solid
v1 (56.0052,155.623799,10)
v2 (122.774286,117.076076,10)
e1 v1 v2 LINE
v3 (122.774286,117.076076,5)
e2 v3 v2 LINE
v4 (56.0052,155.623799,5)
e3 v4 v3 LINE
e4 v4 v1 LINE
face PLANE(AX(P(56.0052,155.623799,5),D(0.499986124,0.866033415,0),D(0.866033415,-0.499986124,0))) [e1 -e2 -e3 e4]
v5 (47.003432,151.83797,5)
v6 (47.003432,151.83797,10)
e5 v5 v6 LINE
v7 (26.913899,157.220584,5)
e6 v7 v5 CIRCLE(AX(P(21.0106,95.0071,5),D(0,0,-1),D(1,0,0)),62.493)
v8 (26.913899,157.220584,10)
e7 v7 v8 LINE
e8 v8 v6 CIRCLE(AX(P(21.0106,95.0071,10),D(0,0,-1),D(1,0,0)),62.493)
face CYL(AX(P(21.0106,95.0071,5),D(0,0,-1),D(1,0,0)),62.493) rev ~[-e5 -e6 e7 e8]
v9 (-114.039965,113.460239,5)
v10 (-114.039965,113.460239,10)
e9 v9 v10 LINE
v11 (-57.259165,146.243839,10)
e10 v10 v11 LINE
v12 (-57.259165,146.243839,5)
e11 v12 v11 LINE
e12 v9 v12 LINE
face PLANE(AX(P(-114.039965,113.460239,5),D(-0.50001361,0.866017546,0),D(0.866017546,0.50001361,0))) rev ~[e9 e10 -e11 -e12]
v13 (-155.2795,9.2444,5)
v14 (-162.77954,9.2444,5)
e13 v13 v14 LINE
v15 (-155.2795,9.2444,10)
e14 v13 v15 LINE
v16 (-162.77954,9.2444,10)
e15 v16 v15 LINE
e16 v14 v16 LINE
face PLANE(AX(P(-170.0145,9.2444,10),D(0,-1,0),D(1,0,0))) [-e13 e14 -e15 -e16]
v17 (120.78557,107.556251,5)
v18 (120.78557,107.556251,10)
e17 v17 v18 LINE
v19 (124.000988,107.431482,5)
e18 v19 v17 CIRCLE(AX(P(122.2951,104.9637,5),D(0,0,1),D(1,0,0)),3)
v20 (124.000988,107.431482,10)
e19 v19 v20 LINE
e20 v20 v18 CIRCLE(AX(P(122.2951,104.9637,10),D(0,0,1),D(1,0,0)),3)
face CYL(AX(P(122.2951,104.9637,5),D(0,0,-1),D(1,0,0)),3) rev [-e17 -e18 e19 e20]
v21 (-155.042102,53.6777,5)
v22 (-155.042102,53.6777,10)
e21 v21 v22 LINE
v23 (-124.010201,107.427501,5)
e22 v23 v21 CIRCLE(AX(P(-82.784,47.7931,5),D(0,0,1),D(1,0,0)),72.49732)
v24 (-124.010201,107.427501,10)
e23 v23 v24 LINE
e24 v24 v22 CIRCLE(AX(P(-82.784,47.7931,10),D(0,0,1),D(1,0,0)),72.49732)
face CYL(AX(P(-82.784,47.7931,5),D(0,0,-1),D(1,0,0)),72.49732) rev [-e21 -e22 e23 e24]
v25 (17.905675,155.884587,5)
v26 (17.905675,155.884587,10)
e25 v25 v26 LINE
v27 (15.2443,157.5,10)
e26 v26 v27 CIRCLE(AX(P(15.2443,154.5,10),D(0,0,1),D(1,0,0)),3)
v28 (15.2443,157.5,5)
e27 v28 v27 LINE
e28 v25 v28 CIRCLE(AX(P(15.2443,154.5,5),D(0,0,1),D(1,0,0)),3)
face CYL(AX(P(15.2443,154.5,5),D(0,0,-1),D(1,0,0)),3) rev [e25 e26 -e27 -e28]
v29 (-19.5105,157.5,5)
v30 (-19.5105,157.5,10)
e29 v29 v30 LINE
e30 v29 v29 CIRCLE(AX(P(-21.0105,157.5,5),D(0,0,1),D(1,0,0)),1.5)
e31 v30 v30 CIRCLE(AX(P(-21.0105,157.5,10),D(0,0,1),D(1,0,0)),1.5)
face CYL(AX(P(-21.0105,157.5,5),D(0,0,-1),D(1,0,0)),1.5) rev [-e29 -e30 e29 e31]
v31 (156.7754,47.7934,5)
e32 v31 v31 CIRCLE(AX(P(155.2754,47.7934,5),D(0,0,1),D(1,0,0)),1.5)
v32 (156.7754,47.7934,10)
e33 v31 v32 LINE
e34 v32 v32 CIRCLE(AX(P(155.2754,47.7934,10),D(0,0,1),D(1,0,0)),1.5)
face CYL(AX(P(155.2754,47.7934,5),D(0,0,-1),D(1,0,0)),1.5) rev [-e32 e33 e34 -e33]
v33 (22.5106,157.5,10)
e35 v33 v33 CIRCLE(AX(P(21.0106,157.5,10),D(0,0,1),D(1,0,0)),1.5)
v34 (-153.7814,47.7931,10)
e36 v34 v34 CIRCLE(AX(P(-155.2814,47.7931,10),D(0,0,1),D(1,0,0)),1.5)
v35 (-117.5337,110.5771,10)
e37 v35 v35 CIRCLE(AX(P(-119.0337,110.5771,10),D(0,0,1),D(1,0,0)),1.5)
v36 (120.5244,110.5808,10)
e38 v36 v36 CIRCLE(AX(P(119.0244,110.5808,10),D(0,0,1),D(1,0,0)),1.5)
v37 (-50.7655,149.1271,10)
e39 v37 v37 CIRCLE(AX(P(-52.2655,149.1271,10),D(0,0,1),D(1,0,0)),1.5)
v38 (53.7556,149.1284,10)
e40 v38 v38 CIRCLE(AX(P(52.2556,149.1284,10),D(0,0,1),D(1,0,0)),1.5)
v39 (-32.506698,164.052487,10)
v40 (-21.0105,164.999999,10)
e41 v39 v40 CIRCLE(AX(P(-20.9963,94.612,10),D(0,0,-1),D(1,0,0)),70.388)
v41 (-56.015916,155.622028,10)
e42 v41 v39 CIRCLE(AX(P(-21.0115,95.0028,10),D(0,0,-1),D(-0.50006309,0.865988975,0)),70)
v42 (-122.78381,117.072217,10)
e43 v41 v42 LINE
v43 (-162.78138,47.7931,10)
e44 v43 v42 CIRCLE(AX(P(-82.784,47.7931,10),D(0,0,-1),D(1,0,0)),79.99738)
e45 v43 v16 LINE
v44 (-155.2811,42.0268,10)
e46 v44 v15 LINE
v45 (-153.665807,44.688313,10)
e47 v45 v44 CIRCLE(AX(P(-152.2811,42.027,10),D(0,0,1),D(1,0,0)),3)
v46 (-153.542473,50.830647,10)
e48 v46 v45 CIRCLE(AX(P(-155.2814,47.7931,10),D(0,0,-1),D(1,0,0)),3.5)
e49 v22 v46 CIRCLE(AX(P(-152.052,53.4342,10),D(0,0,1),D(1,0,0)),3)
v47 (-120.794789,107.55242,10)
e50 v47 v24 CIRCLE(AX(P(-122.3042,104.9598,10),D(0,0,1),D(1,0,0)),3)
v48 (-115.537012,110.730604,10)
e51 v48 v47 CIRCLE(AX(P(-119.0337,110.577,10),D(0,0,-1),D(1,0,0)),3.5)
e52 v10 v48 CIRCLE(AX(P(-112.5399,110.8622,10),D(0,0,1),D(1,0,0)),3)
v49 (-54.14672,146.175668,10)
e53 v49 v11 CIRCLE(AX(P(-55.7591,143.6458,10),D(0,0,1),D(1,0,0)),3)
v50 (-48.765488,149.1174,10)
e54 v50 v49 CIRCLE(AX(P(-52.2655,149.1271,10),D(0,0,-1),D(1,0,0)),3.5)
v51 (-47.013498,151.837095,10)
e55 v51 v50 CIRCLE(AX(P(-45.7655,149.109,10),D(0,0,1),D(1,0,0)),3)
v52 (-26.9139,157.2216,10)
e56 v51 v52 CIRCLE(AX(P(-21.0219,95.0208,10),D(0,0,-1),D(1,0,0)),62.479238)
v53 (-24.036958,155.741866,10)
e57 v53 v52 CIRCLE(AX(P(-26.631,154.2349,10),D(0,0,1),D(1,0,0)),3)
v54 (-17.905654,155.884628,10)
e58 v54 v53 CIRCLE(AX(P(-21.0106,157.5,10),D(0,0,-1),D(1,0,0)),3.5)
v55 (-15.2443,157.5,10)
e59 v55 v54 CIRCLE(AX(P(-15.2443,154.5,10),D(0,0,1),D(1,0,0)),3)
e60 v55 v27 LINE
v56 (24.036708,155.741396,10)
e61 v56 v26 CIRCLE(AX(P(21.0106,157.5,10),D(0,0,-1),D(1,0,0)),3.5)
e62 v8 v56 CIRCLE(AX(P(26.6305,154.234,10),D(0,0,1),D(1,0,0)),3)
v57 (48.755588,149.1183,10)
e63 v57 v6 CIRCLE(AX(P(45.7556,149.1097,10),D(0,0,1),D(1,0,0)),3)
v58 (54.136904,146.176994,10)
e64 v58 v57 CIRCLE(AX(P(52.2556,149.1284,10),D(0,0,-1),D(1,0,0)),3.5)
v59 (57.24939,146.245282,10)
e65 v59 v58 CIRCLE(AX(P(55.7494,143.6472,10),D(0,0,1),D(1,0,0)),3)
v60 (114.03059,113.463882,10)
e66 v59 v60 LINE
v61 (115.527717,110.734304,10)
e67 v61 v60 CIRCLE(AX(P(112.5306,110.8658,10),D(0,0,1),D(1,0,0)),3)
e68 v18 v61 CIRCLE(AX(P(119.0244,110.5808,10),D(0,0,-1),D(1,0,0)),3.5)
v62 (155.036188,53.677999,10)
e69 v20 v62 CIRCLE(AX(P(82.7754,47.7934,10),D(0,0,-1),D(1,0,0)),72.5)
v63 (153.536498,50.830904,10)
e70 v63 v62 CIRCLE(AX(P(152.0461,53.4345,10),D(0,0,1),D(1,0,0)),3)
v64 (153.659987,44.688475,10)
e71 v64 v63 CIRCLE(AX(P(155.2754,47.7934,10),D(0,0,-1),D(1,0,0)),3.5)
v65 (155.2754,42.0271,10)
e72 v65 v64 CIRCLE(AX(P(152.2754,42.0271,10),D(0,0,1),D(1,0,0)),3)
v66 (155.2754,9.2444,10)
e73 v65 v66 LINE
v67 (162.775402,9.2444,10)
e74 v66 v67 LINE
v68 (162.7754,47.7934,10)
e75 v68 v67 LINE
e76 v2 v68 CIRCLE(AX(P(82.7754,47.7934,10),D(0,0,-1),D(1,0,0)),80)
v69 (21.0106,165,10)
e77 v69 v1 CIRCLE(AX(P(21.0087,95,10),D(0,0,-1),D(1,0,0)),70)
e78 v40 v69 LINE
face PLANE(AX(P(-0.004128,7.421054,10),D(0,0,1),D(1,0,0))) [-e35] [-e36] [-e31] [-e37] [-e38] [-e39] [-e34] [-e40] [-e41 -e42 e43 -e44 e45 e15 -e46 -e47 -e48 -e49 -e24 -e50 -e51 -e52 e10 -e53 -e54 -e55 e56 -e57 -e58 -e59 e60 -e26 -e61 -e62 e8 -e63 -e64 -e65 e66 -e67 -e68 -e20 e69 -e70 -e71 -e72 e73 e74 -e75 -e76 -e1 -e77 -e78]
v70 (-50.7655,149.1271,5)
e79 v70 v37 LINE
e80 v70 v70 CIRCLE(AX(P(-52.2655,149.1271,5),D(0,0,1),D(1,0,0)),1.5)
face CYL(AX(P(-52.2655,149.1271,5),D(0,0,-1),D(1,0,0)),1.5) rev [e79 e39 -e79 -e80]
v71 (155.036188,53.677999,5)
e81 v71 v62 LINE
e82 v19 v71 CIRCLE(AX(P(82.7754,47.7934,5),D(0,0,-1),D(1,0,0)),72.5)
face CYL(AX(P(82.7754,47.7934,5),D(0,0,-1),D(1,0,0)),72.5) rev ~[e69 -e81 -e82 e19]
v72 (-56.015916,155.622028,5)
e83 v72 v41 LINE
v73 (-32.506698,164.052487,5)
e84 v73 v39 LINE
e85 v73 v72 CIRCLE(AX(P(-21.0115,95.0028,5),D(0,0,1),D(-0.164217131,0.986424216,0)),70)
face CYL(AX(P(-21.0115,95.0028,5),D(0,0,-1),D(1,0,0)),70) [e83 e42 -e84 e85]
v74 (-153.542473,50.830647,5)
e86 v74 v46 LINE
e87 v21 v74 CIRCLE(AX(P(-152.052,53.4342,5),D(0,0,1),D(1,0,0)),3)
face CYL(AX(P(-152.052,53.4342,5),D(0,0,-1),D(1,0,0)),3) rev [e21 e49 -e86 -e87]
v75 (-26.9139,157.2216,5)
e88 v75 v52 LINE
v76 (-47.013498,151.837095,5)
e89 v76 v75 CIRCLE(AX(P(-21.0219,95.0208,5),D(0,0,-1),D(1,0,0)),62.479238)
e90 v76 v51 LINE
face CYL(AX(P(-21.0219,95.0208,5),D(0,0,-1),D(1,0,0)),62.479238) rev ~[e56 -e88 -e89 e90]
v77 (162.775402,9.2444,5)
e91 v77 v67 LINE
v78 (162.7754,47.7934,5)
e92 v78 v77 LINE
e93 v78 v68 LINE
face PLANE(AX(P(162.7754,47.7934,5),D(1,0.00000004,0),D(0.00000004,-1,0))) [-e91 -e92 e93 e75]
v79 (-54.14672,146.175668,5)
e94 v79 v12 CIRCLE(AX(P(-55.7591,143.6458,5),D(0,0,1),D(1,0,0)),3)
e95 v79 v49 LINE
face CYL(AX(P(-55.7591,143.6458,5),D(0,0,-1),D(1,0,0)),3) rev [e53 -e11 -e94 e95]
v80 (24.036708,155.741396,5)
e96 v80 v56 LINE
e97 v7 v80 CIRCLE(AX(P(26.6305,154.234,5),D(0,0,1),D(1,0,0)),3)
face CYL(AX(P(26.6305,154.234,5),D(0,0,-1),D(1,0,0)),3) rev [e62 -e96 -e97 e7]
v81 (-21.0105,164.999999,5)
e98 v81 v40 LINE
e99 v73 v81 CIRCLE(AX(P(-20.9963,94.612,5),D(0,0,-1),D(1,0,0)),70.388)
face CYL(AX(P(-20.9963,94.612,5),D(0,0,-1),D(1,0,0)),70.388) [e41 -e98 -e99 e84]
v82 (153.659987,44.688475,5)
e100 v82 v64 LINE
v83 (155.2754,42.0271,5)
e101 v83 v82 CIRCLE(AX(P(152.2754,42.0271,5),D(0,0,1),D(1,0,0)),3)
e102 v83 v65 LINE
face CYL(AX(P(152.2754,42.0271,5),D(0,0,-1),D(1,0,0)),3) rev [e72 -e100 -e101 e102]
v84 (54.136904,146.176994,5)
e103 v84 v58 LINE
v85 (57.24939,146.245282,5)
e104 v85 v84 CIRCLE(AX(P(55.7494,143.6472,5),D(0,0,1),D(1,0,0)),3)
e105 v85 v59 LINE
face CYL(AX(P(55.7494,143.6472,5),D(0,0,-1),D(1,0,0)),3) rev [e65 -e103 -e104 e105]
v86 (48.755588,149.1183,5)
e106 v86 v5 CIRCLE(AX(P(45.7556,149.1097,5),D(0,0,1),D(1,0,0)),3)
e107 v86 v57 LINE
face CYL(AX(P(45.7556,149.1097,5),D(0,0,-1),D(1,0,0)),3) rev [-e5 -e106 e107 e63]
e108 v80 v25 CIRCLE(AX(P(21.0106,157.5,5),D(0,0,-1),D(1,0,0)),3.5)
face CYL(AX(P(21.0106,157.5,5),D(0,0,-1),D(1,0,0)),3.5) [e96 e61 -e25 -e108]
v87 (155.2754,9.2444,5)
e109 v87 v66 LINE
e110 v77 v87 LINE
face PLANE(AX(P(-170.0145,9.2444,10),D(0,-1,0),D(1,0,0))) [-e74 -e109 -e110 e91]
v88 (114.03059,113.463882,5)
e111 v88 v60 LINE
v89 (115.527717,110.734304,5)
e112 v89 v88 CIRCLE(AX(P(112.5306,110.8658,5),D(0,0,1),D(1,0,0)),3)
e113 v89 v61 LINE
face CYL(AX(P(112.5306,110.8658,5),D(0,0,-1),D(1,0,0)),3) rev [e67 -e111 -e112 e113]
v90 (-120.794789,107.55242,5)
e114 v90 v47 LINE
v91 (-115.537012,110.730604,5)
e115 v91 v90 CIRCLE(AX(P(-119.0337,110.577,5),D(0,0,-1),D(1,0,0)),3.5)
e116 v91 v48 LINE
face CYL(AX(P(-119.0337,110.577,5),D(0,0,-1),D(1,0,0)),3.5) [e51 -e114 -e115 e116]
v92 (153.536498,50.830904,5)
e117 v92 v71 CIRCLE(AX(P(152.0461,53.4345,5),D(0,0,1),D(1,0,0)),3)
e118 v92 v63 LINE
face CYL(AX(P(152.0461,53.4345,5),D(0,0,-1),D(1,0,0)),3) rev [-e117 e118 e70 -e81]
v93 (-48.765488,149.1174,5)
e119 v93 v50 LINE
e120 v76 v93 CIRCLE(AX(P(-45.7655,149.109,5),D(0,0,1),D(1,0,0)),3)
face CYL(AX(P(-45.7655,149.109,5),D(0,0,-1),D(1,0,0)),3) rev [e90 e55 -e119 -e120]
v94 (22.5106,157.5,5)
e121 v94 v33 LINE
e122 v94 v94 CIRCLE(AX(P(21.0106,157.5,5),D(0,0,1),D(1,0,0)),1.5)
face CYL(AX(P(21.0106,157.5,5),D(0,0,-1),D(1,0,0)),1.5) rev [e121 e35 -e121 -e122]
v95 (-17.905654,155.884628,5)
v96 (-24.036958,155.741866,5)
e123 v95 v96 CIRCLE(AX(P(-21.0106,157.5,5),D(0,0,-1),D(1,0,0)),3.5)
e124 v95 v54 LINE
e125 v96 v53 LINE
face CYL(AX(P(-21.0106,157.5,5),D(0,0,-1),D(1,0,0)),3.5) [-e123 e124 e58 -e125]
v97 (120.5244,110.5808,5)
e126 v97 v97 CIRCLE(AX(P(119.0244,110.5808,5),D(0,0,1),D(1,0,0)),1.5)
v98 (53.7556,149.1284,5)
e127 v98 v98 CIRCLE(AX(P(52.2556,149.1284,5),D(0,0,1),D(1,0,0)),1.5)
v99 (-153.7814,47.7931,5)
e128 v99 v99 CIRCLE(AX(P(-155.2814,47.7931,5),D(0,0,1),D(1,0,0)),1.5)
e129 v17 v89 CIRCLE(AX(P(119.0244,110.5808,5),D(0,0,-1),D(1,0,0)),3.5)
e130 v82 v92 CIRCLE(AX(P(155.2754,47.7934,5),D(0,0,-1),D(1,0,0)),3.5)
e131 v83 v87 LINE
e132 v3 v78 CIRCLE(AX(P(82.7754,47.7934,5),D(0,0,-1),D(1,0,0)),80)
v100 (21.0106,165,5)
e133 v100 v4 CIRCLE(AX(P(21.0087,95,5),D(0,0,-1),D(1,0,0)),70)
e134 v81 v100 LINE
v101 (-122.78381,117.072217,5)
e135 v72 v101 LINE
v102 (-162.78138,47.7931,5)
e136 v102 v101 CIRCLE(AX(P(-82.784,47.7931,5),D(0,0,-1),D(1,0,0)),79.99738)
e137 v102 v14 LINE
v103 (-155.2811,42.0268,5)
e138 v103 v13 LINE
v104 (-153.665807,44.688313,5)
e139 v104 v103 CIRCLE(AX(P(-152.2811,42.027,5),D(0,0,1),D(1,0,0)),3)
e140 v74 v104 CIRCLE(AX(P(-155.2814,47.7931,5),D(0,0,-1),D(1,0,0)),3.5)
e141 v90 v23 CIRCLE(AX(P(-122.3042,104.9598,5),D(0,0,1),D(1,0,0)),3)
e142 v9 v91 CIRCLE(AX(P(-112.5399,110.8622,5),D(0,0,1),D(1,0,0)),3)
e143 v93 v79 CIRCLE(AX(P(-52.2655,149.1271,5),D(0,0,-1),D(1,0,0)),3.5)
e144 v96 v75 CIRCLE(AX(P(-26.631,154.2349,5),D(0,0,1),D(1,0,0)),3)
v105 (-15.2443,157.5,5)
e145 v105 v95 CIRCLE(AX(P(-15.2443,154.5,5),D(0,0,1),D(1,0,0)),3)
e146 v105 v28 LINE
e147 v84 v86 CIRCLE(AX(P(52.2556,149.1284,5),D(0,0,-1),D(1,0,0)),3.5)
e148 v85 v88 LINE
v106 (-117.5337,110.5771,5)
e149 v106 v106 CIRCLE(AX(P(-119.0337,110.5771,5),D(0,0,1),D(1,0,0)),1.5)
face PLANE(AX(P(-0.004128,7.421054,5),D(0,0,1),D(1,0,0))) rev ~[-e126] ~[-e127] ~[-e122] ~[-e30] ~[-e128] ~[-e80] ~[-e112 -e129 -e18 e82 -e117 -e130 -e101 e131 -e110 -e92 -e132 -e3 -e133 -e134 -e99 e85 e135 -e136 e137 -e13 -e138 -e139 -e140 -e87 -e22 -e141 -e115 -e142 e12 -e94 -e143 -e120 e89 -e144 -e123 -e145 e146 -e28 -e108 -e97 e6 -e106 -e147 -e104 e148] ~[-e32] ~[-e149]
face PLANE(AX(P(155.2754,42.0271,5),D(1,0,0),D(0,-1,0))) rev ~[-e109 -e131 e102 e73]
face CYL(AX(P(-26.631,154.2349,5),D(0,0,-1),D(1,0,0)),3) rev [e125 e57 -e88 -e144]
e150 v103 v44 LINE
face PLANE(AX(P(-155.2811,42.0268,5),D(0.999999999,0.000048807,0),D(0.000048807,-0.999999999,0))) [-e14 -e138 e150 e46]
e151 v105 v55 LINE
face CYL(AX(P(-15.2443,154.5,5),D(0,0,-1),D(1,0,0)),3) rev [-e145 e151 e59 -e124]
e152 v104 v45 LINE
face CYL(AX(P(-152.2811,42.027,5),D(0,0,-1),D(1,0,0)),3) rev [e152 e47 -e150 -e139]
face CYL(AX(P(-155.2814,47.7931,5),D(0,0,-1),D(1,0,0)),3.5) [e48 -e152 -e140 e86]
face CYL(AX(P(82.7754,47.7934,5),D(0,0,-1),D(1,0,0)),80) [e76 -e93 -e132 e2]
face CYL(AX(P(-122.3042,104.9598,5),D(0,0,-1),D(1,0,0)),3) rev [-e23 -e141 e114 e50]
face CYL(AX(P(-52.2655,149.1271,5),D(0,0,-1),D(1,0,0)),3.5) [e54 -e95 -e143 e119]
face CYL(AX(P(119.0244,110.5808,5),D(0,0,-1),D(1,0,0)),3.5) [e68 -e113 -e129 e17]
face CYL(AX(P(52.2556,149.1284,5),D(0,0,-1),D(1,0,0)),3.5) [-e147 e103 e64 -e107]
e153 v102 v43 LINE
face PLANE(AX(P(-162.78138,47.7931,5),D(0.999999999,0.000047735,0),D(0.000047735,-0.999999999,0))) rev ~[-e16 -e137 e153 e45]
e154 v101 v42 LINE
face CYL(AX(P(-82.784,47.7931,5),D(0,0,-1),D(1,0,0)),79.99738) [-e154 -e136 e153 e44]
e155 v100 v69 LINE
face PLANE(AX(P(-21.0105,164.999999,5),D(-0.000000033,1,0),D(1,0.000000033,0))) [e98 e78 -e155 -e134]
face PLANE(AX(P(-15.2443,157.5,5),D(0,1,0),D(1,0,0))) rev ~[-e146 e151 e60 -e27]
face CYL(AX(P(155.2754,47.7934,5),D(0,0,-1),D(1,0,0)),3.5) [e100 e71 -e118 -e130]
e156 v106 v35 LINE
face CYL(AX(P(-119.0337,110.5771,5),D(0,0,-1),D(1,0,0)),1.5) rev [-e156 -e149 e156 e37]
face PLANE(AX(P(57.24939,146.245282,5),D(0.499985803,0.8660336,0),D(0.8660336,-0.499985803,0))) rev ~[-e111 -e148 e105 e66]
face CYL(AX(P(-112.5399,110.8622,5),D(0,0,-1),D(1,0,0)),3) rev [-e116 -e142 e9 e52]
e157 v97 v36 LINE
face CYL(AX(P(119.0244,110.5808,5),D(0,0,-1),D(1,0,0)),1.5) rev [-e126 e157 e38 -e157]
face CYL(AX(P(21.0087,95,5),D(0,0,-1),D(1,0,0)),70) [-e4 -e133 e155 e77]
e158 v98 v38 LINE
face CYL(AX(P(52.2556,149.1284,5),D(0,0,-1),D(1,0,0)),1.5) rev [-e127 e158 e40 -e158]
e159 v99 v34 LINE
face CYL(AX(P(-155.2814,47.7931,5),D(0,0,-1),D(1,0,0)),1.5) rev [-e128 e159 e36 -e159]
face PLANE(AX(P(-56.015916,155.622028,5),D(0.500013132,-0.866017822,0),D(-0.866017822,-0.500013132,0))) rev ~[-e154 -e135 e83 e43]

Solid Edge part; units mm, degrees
sketch "Sketch1" plane through (0.0007, 14.651, 5) normal (0, 0, 1) x (1, 0, 0)
  line L0 (-114.0407, 98.8093) -> (-57.2599, 131.5929)
  arc A0 (-54.1474, 131.5247) -> (-57.2599, 131.5929) centre (-55.7598, 128.9948) ccw
  arc A1 (-47.0142, 137.1861) -> (-48.7662, 134.4664) centre (-45.7662, 134.458) ccw
  arc A2 (-47.0142, 137.1861) -> (-26.9146, 142.5706) centre (-21.0226, 80.3698) cw
  arc A3 (-24.0376, 141.0909) -> (-26.9146, 142.5706) centre (-26.6317, 139.5839) ccw
  arc A4 (-15.245, 142.849) -> (-17.9063, 141.2336) centre (-15.245, 139.849) ccw
  line L1 (-15.245, 142.849) -> (15.2436, 142.849)
  arc A5 (17.905, 141.2336) -> (15.2436, 142.849) centre (15.2436, 139.849) ccw
  arc A6 (26.9132, 142.5696) -> (24.036, 141.0904) centre (26.6298, 139.583) ccw
  arc A7 (26.9132, 142.5696) -> (47.0027, 137.1869) centre (21.0099, 80.3561) cw
  arc A8 (48.7549, 134.4673) -> (47.0027, 137.1869) centre (45.7549, 134.4587) ccw
  arc A9 (57.2487, 131.5943) -> (54.1362, 131.526) centre (55.7487, 128.9962) ccw
  line L2 (57.2487, 131.5943) -> (114.0299, 98.8129)
  arc A10 (115.5271, 96.0833) -> (114.0299, 98.8129) centre (112.5299, 96.2148) ccw
  arc A11 (124.0003, 92.7805) -> (120.7849, 92.9052) centre (122.2944, 90.3127) ccw
  arc A12 (124.0003, 92.7805) -> (155.0355, 39.027) centre (82.7747, 33.1424) cw
  arc A13 (153.5358, 36.1799) -> (155.0355, 39.027) centre (152.0454, 38.7835) ccw
  arc A14 (155.2747, 27.3761) -> (153.6593, 30.0375) centre (152.2747, 27.3761) ccw
  line L3 (155.2747, 27.3761) -> (155.2747, -38.192)
  arc A15 (153.6593, -40.8534) -> (155.2747, -38.192) centre (152.2747, -38.192) ccw
  arc A16 (154.9954, -49.8615) -> (153.5161, -46.9844) centre (152.0088, -49.5782) ccw
  arc A17 (154.9954, -49.8615) -> (149.6134, -69.9554) centre (92.7533, -43.9583) cw
  arc A18 (146.8942, -71.7079) -> (149.6134, -69.9554) centre (146.8851, -68.7079) ccw
  arc A19 (144.0217, -80.2016) -> (143.9534, -77.0892) centre (141.4236, -78.7016) ccw
  line L4 (144.0217, -80.2016) -> (127.6444, -108.5679)
  arc A20 (122.7007, -116.5716) -> (122.8583, -113.3403) centre (120.256, -114.8329) ccw
  arc A21 (77.6703, -142.5696) -> (122.7007, -116.5716) centre (71.767, -80.3476) ccw
  arc A22 (74.7931, -141.0904) -> (77.6703, -142.5696) centre (77.3869, -139.583) ccw
  arc A23 (66.0007, -142.849) -> (68.6621, -141.2336) centre (66.0007, -139.849) ccw
  line L5 (5.7656, -142.849) -> (66.0007, -142.849)
  arc A24 (3.1042, -141.2336) -> (5.7656, -142.849) centre (5.7656, -139.849) ccw
  arc A25 (-5.767, -142.849) -> (-3.1056, -141.2336) centre (-5.767, -139.849) ccw
  line L6 (-66.0021, -142.849) -> (-5.767, -142.849)
  arc A26 (-68.6634, -141.2336) -> (-66.0021, -142.849) centre (-66.0021, -139.849) ccw
  arc A27 (-77.6716, -142.5694) -> (-74.7944, -141.0903) centre (-77.3881, -139.5828) ccw
  arc A28 (-122.6994, -116.5717) -> (-77.6716, -142.5694) centre (-71.7665, -80.349) ccw
  arc A29 (-122.857, -113.3404) -> (-122.6994, -116.5717) centre (-120.2547, -114.833) ccw
  arc A30 (-128.7762, -106.6053) -> (-126.0465, -108.1024) centre (-126.1781, -105.1053) ccw
  line L7 (-144.0218, -80.199) -> (-128.7762, -106.6053)
  arc A31 (-143.9535, -77.0865) -> (-144.0218, -80.199) centre (-141.4237, -78.699) ccw
  arc A32 (-149.6144, -69.9531) -> (-146.8949, -71.7053) centre (-146.8862, -68.7053) ccw
  arc A33 (-154.9987, -49.8585) -> (-149.6144, -69.9531) centre (-92.7672, -43.9523) ccw
  arc A34 (-153.5196, -46.9813) -> (-154.9987, -49.8585) centre (-152.0122, -49.5751) ccw
  arc A35 (-155.2786, -38.189) -> (-153.6631, -40.8503) centre (-152.2786, -38.1889) ccw
  line L8 (-155.2818, 27.3758) -> (-155.2786, -38.189)
  arc A36 (-153.6665, 30.0373) -> (-155.2818, 27.3758) centre (-152.2818, 27.376) ccw
  arc A37 (-155.0428, 39.0267) -> (-153.5432, 36.1796) centre (-152.0527, 38.7832) ccw
  arc A38 (-124.0109, 92.7765) -> (-155.0428, 39.0267) centre (-82.7847, 33.1421) ccw
  arc A39 (-120.7955, 92.9014) -> (-124.0109, 92.7765) centre (-122.3049, 90.3088) ccw
  arc A40 (-114.0407, 98.8093) -> (-115.5378, 96.0796) centre (-112.5406, 96.2112) ccw
  arc A41 (-48.7662, 134.4664) -> (-54.1474, 131.5247) centre (-52.2662, 134.4761) cw
  arc A42 (-17.9064, 141.2336) -> (-24.0377, 141.0909) centre (-21.0113, 142.849) cw
  arc A43 (24.036, 141.0904) -> (17.905, 141.2336) centre (21.0099, 142.849) cw
  arc A44 (54.1362, 131.526) -> (48.7549, 134.4673) centre (52.2549, 134.4774) cw
  arc A45 (120.7849, 92.9052) -> (115.5271, 96.0832) centre (119.0237, 95.9298) cw
  arc A46 (153.6593, 30.0375) -> (153.5358, 36.1799) centre (155.2747, 33.1424) cw
  arc A47 (153.5161, -46.9844) -> (153.6593, -40.8534) centre (155.2747, -43.9583) cw
  arc A48 (143.9534, -77.0891) -> (146.8942, -71.7079) centre (146.9048, -75.2079) cw
  arc A49 (122.8584, -113.3404) -> (127.6444, -108.5679) centre (125.8944, -111.599) cw
  arc A50 (68.6621, -141.2336) -> (74.7931, -141.0904) centre (71.767, -142.849) cw
  arc A51 (-3.1056, -141.2336) -> (3.1042, -141.2336) centre (-0.0007, -142.849) cw
  arc A52 (-74.7944, -141.0903) -> (-68.6635, -141.2336) centre (-71.7684, -142.849) cw
  arc A53 (-126.0466, -108.1024) -> (-122.857, -113.3404) centre (-125.8931, -111.599) cw
  arc A54 (-146.8949, -71.7053) -> (-143.9536, -77.0866) centre (-146.905, -75.2053) cw
  arc A55 (-153.6632, -40.8503) -> (-153.5196, -46.9813) centre (-155.2784, -43.9553) cw
  arc A56 (-153.5432, 36.1796) -> (-153.6665, 30.0373) centre (-155.2821, 33.1421) cw
  arc A57 (-115.5377, 96.0796) -> (-120.7955, 92.9014) centre (-119.0344, 95.926) cw
  line L9 (-56.0166, 140.971) -> (-122.7845, 102.4212)
  arc A58 (-162.7821, 33.1421) -> (-122.7845, 102.4212) centre (-82.7847, 33.1421) cw
  line L10 (-162.7821, 33.1421) -> (-162.7784, -43.9553)
  arc A59 (-162.7784, -43.9553) -> (-153.4002, -78.9553) centre (-92.7784, -43.9553) ccw
  line L11 (-132.3882, -115.349) -> (-153.4002, -78.9553)
  arc A60 (-132.3882, -115.349) -> (-71.7683, -150.349) centre (-71.7665, -80.349) ccw
  line L12 (71.767, -150.349) -> (-71.7683, -150.349)
  arc A61 (71.767, -150.349) -> (132.3896, -115.349) centre (71.7678, -80.349) ccw
  line L13 (132.3896, -115.349) -> (153.4002, -78.9576)
  arc A62 (162.7747, -43.9583) -> (153.4002, -78.9576) centre (92.791, -43.9684) cw
  line L14 (162.7747, 33.1424) -> (162.7747, -43.9583)
  arc A63 (122.7736, 102.4251) -> (162.7747, 33.1424) centre (82.7747, 33.1424) cw
  line L15 (56.0045, 140.9728) -> (122.7736, 102.4251)
  arc A64 (21.0099, 150.349) -> (56.0045, 140.9728) centre (21.008, 80.349) cw
  line L16 (-21.0112, 150.349) -> (21.0099, 150.349)
  arc A65 (-32.5074, 149.4015) -> (-21.0112, 150.349) centre (-20.997, 79.961) cw
  arc A66 (-44.641, 146.2432) -> (-32.5074, 149.4015) centre (-21.0122, 80.3518) cw
  arc A67 (-56.0166, 140.971) -> (-44.641, 146.2432) centre (-21.0122, 80.3518) cw
  circle A68 centre (-71.7683, -142.849) radius 1.5
  circle A69 centre (-0.0007, -142.849) radius 1.5
  circle A70 centre (-125.893, -111.599) radius 1.5
  circle A71 centre (-146.905, -75.2053) radius 1.5
  circle A72 centre (-155.2784, -43.9553) radius 1.5
  circle A73 centre (-155.2821, 33.1421) radius 1.5
  circle A74 centre (-119.0344, 95.9261) radius 1.5
  circle A75 centre (-52.2662, 134.4761) radius 1.5
  circle A76 centre (-21.0112, 142.849) radius 1.5
  circle A77 centre (21.0099, 142.849) radius 1.5
  circle A78 centre (52.2549, 134.4774) radius 1.5
  circle A79 centre (119.0237, 95.9298) radius 1.5
  circle A80 centre (155.2747, 33.1424) radius 1.5
  circle A81 centre (155.2747, -43.9583) radius 1.5
  circle A82 centre (146.9048, -75.2079) radius 1.5
  circle A83 centre (125.8944, -111.599) radius 1.5
  circle A84 centre (71.767, -142.849) radius 1.5
extrude "ExtrudedProtrusion_7" add sketch "Sketch1" along normal blind 5
sketch "Sketch2" plane through (-0.003, 14.651, 10) normal (0, 0, 1) x (1, 0, 0)
  line L0 (-170.0115, -5.4066) -> (169.0999, -5.4066)
  line L1 (169.0999, -5.4066) -> (169.0999, -159.984)
  line L2 (169.0999, -159.984) -> (-170.0115, -159.984)
  line L3 (-170.0115, -159.984) -> (-170.0115, -5.4066)
extrude "Cutout1" cut sketch "Sketch2" against normal up to next
properties material "Polycarbonate"
